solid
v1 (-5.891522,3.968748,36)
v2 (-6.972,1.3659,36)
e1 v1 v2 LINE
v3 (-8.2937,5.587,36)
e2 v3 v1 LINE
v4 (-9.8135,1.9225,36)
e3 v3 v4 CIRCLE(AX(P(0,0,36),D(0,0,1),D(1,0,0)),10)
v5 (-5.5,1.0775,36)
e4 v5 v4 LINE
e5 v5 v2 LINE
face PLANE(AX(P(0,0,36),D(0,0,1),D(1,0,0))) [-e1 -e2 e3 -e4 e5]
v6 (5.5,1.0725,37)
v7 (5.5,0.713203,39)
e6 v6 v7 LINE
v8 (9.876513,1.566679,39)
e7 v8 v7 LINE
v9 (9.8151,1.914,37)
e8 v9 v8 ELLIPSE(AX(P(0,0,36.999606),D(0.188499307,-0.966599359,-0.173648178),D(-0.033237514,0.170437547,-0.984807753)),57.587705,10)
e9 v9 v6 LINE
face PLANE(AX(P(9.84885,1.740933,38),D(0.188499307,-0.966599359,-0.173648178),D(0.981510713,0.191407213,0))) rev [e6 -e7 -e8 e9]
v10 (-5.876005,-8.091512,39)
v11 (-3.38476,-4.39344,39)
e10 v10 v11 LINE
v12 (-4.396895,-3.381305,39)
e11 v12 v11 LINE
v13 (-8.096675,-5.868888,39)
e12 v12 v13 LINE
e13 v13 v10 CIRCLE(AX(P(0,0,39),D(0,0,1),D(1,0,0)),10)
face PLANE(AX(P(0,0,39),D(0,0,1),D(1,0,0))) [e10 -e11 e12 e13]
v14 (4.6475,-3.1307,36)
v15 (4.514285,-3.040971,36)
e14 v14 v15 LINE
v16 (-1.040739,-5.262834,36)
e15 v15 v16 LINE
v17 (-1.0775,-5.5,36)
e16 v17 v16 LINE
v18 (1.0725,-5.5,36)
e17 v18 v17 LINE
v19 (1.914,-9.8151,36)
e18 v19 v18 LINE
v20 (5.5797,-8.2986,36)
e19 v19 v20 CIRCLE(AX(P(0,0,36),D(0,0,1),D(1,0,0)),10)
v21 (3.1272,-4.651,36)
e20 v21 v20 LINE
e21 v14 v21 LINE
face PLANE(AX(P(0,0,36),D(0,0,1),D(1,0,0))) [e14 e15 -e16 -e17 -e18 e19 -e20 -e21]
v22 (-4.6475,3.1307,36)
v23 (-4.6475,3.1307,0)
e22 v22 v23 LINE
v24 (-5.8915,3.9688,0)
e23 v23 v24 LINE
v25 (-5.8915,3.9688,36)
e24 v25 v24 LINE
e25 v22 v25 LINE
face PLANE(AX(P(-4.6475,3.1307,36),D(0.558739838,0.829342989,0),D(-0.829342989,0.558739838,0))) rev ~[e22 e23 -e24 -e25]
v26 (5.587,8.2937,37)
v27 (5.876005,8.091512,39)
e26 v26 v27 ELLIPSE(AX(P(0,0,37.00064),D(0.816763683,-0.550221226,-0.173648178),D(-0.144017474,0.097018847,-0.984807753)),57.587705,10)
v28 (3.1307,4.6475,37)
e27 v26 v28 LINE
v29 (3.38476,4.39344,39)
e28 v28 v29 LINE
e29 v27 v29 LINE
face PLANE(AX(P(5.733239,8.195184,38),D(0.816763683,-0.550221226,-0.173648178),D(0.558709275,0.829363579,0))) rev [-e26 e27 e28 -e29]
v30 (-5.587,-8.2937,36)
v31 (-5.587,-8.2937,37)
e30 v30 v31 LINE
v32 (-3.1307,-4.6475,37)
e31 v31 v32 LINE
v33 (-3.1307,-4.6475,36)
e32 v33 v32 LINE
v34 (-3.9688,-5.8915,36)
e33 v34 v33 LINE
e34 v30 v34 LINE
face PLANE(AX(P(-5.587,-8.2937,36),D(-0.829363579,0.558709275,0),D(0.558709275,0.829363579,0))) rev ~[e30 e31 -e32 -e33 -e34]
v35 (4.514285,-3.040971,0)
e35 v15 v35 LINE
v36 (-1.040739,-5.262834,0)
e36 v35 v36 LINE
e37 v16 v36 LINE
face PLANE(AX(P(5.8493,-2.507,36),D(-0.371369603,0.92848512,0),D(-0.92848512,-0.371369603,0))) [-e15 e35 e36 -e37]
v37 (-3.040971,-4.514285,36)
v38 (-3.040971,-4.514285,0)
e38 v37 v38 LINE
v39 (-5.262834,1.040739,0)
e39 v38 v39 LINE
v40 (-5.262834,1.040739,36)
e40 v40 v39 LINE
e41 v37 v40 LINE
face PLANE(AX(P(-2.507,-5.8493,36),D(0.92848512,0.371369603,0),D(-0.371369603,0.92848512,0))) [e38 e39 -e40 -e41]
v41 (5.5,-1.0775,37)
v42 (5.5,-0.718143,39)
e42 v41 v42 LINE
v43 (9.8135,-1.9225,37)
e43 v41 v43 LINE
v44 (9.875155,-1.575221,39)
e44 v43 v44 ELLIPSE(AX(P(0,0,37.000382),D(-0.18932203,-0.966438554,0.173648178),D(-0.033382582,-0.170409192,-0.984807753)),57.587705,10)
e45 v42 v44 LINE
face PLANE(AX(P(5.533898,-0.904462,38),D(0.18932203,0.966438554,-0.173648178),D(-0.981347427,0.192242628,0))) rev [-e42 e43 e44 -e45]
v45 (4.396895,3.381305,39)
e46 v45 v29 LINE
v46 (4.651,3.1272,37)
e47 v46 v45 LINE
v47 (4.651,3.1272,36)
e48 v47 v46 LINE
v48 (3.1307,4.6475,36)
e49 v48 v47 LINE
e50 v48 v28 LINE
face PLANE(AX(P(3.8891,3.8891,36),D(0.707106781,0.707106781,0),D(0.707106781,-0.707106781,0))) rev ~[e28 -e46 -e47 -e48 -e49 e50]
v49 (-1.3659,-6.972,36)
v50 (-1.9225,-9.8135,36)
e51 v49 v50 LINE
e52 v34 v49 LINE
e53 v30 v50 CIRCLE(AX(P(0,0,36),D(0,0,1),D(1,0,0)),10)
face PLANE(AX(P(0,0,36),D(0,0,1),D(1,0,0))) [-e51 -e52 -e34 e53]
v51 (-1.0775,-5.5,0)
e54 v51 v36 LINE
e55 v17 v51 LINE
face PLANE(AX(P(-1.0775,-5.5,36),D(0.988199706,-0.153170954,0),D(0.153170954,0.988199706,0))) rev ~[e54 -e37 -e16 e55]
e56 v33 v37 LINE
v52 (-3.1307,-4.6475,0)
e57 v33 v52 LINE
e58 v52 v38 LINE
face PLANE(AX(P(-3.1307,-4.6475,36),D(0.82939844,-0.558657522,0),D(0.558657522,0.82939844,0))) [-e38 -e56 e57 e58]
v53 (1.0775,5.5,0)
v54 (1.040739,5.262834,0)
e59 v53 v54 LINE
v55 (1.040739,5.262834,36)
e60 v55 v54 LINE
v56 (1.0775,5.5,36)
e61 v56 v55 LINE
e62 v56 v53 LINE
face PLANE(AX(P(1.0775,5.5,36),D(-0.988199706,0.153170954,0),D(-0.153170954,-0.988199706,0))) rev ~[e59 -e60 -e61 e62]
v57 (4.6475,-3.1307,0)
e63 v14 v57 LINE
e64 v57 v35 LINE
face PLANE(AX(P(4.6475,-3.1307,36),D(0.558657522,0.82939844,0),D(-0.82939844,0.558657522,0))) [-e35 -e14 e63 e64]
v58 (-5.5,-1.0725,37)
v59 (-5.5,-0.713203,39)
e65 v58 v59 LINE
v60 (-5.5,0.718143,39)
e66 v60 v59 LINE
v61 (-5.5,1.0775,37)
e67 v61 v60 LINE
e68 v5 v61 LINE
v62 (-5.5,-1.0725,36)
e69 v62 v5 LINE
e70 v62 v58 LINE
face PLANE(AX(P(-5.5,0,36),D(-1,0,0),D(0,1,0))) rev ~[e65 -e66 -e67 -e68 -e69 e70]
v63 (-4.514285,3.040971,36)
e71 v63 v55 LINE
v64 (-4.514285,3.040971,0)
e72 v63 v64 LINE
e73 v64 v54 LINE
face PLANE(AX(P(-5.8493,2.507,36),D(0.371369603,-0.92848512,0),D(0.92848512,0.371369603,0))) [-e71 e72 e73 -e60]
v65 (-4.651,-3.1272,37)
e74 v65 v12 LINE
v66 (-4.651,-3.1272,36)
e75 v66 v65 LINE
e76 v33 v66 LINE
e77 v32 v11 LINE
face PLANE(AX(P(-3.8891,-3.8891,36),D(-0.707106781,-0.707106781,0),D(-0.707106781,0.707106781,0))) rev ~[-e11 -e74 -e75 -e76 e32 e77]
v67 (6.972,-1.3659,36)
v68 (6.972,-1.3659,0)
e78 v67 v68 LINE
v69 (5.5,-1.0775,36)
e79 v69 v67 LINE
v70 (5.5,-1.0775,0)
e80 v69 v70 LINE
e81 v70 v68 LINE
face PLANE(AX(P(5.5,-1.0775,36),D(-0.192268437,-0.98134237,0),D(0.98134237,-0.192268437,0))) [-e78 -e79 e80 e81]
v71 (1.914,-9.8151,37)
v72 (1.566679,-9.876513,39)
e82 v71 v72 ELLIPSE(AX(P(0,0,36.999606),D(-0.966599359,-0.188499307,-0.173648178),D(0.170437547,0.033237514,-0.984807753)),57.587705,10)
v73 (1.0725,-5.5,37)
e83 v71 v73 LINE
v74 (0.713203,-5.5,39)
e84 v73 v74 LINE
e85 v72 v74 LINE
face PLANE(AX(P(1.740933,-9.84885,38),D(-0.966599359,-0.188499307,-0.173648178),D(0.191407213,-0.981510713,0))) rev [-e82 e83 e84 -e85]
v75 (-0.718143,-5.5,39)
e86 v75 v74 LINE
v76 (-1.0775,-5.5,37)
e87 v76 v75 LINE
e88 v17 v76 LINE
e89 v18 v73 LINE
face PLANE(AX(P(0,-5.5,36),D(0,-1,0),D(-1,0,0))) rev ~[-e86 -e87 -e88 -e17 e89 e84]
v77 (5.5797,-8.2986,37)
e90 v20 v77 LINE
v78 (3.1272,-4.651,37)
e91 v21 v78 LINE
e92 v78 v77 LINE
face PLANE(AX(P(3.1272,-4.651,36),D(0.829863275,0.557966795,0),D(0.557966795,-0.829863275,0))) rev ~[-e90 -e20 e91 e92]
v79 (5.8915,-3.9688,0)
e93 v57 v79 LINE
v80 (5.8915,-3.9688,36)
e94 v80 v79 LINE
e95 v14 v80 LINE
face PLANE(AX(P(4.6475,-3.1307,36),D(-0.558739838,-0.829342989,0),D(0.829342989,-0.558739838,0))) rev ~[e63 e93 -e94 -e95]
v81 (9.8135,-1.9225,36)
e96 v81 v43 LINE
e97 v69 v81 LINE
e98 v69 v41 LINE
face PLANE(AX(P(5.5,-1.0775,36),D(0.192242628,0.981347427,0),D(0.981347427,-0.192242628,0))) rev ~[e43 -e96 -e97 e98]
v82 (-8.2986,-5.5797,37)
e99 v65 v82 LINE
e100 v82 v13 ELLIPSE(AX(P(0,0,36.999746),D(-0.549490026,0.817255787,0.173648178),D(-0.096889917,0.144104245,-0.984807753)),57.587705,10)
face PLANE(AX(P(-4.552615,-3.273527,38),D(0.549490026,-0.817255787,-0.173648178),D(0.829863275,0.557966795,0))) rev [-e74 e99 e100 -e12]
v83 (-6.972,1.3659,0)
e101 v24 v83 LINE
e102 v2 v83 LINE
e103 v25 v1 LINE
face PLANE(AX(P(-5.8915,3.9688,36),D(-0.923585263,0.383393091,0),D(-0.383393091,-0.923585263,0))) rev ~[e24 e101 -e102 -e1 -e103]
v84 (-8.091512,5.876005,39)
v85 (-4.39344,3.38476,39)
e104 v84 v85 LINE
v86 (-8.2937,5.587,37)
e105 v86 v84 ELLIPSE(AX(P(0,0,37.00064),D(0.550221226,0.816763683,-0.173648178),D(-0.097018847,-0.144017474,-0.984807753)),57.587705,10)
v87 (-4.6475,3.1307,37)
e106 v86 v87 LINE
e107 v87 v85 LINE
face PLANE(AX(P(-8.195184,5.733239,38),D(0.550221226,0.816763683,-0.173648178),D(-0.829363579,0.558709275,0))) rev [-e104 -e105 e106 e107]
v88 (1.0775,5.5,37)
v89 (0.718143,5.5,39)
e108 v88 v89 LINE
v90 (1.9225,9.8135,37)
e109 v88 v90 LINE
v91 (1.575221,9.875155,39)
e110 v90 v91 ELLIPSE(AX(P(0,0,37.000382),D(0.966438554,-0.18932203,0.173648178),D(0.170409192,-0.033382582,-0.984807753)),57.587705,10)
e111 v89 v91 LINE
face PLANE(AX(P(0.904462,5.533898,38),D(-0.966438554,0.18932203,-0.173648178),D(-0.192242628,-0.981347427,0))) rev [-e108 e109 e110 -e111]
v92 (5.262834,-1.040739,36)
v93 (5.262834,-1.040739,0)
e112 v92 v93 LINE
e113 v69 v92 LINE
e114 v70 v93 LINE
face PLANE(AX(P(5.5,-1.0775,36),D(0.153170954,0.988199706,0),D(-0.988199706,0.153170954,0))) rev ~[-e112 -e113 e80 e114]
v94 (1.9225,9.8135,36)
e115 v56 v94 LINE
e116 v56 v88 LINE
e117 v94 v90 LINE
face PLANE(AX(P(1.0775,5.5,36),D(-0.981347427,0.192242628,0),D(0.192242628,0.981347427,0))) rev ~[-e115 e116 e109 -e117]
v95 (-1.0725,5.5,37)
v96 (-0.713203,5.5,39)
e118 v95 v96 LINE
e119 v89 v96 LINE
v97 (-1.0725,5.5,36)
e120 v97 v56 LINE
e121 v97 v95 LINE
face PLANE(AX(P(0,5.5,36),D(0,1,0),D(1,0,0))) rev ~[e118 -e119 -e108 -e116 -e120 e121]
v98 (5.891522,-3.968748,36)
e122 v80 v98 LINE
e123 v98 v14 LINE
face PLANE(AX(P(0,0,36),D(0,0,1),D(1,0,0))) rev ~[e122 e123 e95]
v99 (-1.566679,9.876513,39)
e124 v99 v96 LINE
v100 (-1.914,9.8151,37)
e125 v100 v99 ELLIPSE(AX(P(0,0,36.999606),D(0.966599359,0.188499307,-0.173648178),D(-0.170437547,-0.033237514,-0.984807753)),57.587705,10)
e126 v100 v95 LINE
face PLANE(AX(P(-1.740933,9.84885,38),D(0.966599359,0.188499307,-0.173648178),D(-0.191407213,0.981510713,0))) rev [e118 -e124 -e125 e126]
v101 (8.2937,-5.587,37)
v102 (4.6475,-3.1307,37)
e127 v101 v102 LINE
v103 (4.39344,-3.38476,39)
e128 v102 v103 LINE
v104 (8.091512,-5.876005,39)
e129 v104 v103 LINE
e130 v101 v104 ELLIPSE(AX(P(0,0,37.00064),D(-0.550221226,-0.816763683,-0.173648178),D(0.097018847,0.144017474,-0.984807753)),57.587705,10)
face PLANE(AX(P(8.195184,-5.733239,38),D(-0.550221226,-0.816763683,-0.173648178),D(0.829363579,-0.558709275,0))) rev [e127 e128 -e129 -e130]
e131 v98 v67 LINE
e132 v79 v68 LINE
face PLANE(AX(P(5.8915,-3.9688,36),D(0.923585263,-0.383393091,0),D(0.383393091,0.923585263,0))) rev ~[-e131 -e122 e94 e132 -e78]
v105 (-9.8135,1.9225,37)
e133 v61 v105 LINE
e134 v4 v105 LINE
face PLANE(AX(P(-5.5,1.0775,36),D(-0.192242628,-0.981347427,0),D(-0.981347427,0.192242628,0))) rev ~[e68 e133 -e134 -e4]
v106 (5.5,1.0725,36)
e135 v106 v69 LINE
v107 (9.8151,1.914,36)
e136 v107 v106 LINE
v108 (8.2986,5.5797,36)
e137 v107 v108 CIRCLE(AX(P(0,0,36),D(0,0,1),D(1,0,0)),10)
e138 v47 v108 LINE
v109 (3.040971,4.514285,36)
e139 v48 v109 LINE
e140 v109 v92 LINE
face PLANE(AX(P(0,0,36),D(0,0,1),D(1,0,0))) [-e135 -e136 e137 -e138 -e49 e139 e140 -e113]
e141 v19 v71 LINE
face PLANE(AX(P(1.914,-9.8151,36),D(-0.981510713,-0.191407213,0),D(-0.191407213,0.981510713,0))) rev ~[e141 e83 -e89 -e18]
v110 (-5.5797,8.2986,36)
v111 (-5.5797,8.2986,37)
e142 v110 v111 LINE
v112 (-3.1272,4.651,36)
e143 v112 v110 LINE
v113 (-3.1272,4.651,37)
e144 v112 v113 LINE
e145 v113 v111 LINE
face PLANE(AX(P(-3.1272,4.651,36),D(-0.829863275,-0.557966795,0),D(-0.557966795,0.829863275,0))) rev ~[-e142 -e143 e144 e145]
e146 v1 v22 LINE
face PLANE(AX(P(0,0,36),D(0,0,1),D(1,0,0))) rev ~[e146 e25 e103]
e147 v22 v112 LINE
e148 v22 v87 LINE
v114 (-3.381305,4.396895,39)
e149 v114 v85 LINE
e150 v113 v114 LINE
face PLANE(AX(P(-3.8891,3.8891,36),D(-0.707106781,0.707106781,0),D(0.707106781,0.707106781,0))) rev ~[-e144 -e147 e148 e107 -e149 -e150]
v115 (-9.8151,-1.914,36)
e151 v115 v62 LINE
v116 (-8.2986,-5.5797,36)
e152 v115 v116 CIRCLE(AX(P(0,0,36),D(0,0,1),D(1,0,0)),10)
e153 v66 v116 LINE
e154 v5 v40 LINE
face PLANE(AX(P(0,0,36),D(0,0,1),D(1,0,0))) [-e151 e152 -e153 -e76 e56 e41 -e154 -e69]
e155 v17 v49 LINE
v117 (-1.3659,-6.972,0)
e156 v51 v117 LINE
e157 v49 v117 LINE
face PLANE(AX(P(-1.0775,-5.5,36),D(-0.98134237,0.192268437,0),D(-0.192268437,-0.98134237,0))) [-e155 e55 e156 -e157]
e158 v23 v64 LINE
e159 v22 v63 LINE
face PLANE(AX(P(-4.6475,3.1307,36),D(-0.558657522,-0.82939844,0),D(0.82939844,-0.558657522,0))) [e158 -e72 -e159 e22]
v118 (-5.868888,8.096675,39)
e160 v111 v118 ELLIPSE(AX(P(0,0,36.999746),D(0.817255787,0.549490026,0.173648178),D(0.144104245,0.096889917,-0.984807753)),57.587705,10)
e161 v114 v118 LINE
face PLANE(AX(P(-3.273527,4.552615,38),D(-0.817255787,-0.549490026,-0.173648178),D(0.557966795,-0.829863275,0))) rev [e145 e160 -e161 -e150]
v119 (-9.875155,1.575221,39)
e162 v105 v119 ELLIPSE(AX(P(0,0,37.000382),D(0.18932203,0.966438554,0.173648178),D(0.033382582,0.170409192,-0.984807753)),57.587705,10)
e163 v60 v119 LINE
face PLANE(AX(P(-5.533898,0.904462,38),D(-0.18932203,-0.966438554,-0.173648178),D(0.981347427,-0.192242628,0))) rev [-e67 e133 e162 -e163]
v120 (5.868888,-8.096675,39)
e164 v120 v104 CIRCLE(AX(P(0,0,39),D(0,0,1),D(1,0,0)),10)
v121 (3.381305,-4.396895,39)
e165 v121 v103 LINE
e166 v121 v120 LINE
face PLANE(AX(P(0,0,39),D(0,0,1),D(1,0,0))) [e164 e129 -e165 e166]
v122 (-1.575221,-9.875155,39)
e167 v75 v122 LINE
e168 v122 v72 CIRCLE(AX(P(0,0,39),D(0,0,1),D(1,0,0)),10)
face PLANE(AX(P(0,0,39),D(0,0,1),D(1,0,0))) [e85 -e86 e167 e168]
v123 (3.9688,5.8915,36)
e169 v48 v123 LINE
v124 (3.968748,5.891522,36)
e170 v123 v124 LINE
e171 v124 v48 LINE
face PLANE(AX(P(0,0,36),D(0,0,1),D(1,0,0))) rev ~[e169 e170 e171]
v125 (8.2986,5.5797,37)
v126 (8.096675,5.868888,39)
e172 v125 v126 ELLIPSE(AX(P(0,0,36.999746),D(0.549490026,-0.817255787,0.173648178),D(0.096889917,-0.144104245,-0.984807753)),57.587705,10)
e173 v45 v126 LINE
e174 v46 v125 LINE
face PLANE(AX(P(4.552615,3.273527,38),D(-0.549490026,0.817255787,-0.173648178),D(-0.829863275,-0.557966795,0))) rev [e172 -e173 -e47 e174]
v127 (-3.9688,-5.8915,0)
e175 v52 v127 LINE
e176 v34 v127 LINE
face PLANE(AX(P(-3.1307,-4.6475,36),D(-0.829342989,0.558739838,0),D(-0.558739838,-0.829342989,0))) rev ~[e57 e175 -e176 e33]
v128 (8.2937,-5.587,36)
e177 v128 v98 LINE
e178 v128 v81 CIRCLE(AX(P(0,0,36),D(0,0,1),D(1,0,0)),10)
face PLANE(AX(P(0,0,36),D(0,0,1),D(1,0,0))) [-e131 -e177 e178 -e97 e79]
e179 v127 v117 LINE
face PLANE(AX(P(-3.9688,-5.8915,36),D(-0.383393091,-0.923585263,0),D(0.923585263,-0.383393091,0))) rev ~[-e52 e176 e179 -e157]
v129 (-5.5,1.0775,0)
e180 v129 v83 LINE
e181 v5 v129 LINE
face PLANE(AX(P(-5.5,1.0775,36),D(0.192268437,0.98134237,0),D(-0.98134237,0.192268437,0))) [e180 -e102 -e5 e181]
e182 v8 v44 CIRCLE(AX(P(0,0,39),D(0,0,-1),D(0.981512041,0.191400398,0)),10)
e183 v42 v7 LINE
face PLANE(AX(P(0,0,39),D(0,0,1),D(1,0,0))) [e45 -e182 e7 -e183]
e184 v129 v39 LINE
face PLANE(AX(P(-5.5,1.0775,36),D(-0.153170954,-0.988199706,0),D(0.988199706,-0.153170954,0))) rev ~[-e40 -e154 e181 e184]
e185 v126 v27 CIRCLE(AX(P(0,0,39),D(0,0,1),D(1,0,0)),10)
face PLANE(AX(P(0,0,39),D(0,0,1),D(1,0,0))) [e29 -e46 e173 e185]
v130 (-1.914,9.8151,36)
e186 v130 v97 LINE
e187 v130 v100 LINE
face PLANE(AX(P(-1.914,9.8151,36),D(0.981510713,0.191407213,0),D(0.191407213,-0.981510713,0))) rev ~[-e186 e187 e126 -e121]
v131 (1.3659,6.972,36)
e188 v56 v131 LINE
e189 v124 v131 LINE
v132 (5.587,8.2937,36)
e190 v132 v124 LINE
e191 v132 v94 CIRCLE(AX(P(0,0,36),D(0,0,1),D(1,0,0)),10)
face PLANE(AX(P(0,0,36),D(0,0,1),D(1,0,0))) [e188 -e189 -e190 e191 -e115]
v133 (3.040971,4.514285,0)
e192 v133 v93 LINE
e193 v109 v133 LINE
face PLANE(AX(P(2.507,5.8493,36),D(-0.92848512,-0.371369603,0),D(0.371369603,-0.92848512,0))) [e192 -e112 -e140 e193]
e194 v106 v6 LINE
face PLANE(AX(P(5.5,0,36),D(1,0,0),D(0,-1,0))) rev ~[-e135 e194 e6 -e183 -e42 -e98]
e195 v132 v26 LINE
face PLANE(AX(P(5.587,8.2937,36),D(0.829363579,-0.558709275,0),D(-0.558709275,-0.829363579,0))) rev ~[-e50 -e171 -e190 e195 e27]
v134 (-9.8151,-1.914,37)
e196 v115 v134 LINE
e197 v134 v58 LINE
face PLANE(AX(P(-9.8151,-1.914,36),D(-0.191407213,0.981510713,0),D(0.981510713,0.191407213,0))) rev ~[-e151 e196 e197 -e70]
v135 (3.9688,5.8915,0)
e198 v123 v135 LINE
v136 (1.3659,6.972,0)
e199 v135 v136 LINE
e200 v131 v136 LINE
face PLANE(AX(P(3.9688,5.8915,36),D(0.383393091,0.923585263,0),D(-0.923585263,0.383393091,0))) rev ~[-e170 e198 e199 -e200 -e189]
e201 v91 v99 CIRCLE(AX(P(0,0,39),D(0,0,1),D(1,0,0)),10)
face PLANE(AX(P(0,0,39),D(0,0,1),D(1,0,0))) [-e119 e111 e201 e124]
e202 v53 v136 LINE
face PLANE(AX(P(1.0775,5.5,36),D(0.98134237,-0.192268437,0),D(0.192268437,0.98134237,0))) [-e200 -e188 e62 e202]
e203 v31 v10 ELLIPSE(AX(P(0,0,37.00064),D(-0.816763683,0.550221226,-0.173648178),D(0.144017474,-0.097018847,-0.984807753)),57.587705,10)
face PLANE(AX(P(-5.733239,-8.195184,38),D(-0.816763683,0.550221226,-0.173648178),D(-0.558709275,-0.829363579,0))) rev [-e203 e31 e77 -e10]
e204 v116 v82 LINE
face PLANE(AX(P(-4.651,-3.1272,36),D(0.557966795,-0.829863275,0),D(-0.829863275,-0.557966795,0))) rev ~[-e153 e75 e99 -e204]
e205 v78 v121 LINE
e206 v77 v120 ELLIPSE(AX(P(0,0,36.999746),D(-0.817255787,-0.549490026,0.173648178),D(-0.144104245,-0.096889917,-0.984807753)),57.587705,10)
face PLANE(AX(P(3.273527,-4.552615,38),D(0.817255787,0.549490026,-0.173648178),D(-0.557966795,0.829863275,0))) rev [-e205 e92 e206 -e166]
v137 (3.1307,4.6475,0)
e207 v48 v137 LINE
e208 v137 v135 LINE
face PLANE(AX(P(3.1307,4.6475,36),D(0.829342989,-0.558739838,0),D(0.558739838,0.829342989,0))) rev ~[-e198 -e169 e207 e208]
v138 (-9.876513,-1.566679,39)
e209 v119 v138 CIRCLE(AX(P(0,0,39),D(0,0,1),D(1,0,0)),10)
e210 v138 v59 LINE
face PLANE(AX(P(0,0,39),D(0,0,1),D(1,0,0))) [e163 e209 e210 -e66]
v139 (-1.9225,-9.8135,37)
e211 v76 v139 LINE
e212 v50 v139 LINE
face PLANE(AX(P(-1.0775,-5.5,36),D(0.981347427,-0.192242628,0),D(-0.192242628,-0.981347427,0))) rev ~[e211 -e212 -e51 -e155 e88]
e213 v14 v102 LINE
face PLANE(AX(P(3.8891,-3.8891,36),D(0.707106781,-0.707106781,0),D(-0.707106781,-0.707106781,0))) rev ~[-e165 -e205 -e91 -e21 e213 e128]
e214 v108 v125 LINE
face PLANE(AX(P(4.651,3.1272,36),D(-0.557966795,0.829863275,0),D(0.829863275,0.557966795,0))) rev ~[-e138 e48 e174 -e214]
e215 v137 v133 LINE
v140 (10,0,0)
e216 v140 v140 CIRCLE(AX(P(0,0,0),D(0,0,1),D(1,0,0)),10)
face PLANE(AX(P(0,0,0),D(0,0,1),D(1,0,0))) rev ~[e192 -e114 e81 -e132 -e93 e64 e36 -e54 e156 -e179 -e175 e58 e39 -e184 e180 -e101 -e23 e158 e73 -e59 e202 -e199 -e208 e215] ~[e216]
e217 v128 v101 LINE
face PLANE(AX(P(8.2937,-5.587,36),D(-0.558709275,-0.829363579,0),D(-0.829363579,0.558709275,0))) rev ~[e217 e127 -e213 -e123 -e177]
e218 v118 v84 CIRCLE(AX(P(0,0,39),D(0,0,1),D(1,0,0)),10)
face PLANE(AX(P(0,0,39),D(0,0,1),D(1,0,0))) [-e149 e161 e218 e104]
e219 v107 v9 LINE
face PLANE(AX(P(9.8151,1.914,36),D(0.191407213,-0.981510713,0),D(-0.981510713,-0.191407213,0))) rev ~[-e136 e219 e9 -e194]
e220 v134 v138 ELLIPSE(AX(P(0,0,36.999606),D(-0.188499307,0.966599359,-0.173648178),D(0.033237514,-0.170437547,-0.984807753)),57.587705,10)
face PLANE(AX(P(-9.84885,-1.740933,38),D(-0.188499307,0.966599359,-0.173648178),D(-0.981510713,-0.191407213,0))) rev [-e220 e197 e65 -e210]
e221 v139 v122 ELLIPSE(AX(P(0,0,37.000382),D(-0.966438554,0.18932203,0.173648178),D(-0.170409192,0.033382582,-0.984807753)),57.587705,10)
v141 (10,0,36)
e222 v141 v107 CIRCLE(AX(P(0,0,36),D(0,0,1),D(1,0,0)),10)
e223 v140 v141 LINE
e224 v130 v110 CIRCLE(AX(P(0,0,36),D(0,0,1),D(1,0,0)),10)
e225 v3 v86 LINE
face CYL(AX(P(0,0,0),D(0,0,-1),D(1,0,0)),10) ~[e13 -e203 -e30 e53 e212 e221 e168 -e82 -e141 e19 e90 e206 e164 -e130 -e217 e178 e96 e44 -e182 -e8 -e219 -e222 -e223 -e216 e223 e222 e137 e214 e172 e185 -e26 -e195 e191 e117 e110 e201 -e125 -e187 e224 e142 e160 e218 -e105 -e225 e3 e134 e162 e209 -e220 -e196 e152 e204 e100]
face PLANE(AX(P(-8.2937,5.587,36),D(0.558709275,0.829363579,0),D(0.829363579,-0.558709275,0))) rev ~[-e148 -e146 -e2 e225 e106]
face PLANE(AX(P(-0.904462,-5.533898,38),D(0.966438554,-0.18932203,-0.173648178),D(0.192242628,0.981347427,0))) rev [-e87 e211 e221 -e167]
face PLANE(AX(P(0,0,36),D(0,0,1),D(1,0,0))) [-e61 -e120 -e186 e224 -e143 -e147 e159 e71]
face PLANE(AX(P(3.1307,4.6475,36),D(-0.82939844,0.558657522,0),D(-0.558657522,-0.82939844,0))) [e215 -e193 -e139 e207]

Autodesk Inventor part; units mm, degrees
ref_plane "YZ Plane" through (0, 0, 0) normal (1, 0, 0) x (0, 1, 0)
ref_plane "XZ Plane" through (0, 0, 0) normal (0, 1, 0) x (-1, 0, 0)
ref_plane "XY Plane" through (0, 0, 0) normal (0, 0, 1) x (1, 0, 0)
sketch "Эскиз1" plane through (0, 0, 0) normal (0, 0, 1) x (1, 0, 0)
  circle A0 centre (0, 0) radius 10
  line L0 (-3.8095, 3.8095) -> (3.8095, 3.8095)
  line L1 (3.8095, 3.8095) -> (3.8095, -3.8095)
  line L2 (3.8095, -3.8095) -> (-3.8095, -3.8095)
  line L3 (-3.8095, -3.8095) -> (-3.8095, 3.8095)
  line L4 (-3.8095, 3.8095) -> (3.8095, -3.8095) construction
  line L5 (3.8095, 3.8095) -> (-3.8095, -3.8095) construction
  dimension "d0" = 20
extrude "Выдавливание1" add sketch "Эскиз1" along normal blind 36
sketch "Эскиз2" plane through (0, 0, 36) normal (0, 0, 1) x (1, 0, 0)
  line L0 (-3.8095, 3.8095) -> (3.8095, 3.8095) projected
  circle A0 centre (0, 0) radius 10 projected
  line L1 (9.8151, 1.914) -> (5.5, 1.0725)
  line L2 (5.5, -1.0775) -> (9.8135, -1.9225)
  line L3 (5.5, 0) -> (5.5, 1.0725)
  line L4 (5.5, 1.0725) -> (5.5, -1.0775)
  line L5 (5.587, 8.2937) -> (3.1307, 4.6475)
  line L6 (4.651, 3.1272) -> (8.2986, 5.5797)
  line L7 (3.8891, 3.8891) -> (3.1307, 4.6475)
  line L8 (3.1307, 4.6475) -> (4.651, 3.1272)
  line L9 (-1.914, 9.8151) -> (-1.0725, 5.5)
  line L10 (1.0775, 5.5) -> (1.9225, 9.8135)
  line L11 (0, 5.5) -> (-1.0725, 5.5)
  line L12 (-1.0725, 5.5) -> (1.0775, 5.5)
  line L13 (-8.2937, 5.587) -> (-4.6475, 3.1307)
  line L14 (-3.1272, 4.651) -> (-5.5797, 8.2986)
  line L15 (-3.8891, 3.8891) -> (-4.6475, 3.1307)
  line L16 (-4.6475, 3.1307) -> (-3.1272, 4.651)
  line L17 (-9.8151, -1.914) -> (-5.5, -1.0725)
  line L18 (-5.5, 1.0775) -> (-9.8135, 1.9225)
  line L19 (-5.5, 0) -> (-5.5, -1.0725)
  line L20 (-5.5, -1.0725) -> (-5.5, 1.0775)
  line L21 (-5.587, -8.2937) -> (-3.1307, -4.6475)
  line L22 (-4.651, -3.1272) -> (-8.2986, -5.5797)
  line L23 (-3.8891, -3.8891) -> (-3.1307, -4.6475)
  line L24 (-3.1307, -4.6475) -> (-4.651, -3.1272)
  line L25 (1.914, -9.8151) -> (1.0725, -5.5)
  line L26 (-1.0775, -5.5) -> (-1.9225, -9.8135)
  line L27 (0, -5.5) -> (1.0725, -5.5)
  line L28 (1.0725, -5.5) -> (-1.0775, -5.5)
  line L29 (8.2937, -5.587) -> (4.6475, -3.1307)
  line L30 (3.1272, -4.651) -> (5.5797, -8.2986)
  line L31 (3.8891, -3.8891) -> (4.6475, -3.1307)
  line L32 (4.6475, -3.1307) -> (3.1272, -4.651)
  dimension "d36" = 360
extrude "Выдавливание2" add sketch "Эскиз2" along normal blind 3 contours A0 L2 L4 L3 L1 | L6 L8 L7 L5 A0 | A0 L30 L32 L31 L29 | L10 L12 L11 L9 A0 | A0 L26 L28 L27 L25 | L14 L16 L15 L13 A0 | A0 L22 L24 L23 L21 | L18 L20 L19 L17 A0
chamfer "Фаска1" distance 2 angle 10 1 edges at (4.3588, 6.4706, 39) measured on face at (4.7682, 7.0783, 37)
chamfer "Фаска2" distance 2 angle 10 1 edges at (6.4748, 4.3535, 39) measured on face at (5.8669, 3.9447, 37)
chamfer "Фаска3" distance 2 angle 10 1 edges at (7.6576, 1.4932, 39) measured on face at (8.3768, 1.6335, 37)
chamfer "Фаска4" distance 2 angle 10 1 edges at (7.6567, -1.5, 39) measured on face at (6.9378, -1.3592, 37)
chamfer "Фаска5" distance 2 angle 10 1 edges at (6.4706, -4.3588, 39) measured on face at (7.0783, -4.7682, 37)
chamfer "Фаска6" distance 2 angle 10 1 edges at (4.3535, -6.4748, 39) measured on face at (3.9447, -5.8669, 37)
chamfer "Фаска7" distance 2 angle 10 1 edges at (-1.5, -7.6567, 39) measured on face at (-1.3592, -6.9378, 37)
chamfer "Фаска8" distance 2 angle 10 1 edges at (1.4932, -7.6576, 39) measured on face at (1.6335, -8.3768, 37)
chamfer "Фаска9" distance 2 angle 10 1 edges at (-6.4748, -4.3535, 39) measured on face at (-5.8669, -3.9447, 37)
chamfer "Фаска10" distance 2 angle 10 1 edges at (-4.3588, -6.4706, 39) measured on face at (-4.7682, -7.0783, 37)
chamfer "Фаска11" distance 2 angle 10 1 edges at (-7.6567, 1.5, 39) measured on face at (-6.9378, 1.3592, 37)
chamfer "Фаска12" distance 2 angle 10 1 edges at (-7.6576, -1.4932, 39) measured on face at (-8.3768, -1.6335, 37)
chamfer "Фаска13" distance 2 angle 10 1 edges at (-4.3535, 6.4748, 39) measured on face at (-3.9447, 5.8669, 37)
chamfer "Фаска14" distance 2 angle 10 1 edges at (-6.4706, 4.3588, 39) measured on face at (-7.0783, 4.7682, 37)
chamfer "Фаска15" distance 2 angle 10 1 edges at (1.5, 7.6567, 39) measured on face at (1.3592, 6.9378, 37)
chamfer "Фаска16" distance 2 angle 10 1 edges at (-1.4932, 7.6576, 39) measured on face at (-1.6335, 8.3768, 37)
sketch "Эскиз3" plane through (0, 0, 36) normal (0, 0, 1) x (1, 0, 0)
  point P0 (0, 0)
sketch "Эскиз5" plane through (0, 0, 36) normal (0, 0, 1) x (1, 0, 0)
  point P0 (0, 0)
sketch "Эскиз6" plane through (0, 0, 36) normal (0, 0, 1) x (1, 0, 0)
  line L0 (-1.0725, 5.5) -> (-1.914, 9.8151) projected
  arc A0 (-1.914, 9.8151) -> (-5.5797, 8.2986) centre (0, 0) ccw projected
  line L1 (-5.5797, 8.2986) -> (-3.1272, 4.651) projected
  line L2 (-3.1272, 4.651) -> (-4.6475, 3.1307) projected
  line L3 (-4.6475, 3.1307) -> (-8.2937, 5.587) projected
  arc A1 (-8.2937, 5.587) -> (-9.8135, 1.9225) centre (0, 0) ccw projected
  line L4 (-9.8135, 1.9225) -> (-5.5, 1.0775) projected
  line L5 (-5.5, 1.0775) -> (-5.5, -1.0725) projected
  line L6 (-5.5, -1.0725) -> (-9.8151, -1.914) projected
  arc A2 (-9.8151, -1.914) -> (-8.2986, -5.5797) centre (0, 0) ccw projected
  line L7 (-8.2986, -5.5797) -> (-4.651, -3.1272) projected
  line L8 (-4.651, -3.1272) -> (-3.1307, -4.6475) projected
  line L9 (-3.1307, -4.6475) -> (-5.587, -8.2937) projected
  arc A3 (-5.587, -8.2937) -> (-1.9225, -9.8135) centre (0, 0) ccw projected
  line L10 (-1.9225, -9.8135) -> (-1.0775, -5.5) projected
  line L11 (-1.0775, -5.5) -> (1.0725, -5.5) projected
  line L12 (1.0725, -5.5) -> (1.914, -9.8151) projected
  arc A4 (1.914, -9.8151) -> (5.5797, -8.2986) centre (0, 0) ccw projected
  line L13 (5.5797, -8.2986) -> (3.1272, -4.651) projected
  line L14 (3.1272, -4.651) -> (4.6475, -3.1307) projected
  line L15 (4.6475, -3.1307) -> (8.2937, -5.587) projected
  arc A5 (8.2937, -5.587) -> (9.8135, -1.9225) centre (0, 0) ccw projected
  line L16 (9.8135, -1.9225) -> (5.5, -1.0775) projected
  line L17 (5.5, -1.0775) -> (5.5, 1.0725) projected
  line L18 (5.5, 1.0725) -> (9.8151, 1.914) projected
  arc A6 (9.8151, 1.914) -> (8.2986, 5.5797) centre (0, 0) ccw projected
  line L19 (8.2986, 5.5797) -> (4.651, 3.1272) projected
  line L20 (4.651, 3.1272) -> (3.1307, 4.6475) projected
  line L21 (3.1307, 4.6475) -> (5.587, 8.2937) projected
  arc A7 (5.587, 8.2937) -> (1.9225, 9.8135) centre (0, 0) ccw projected
  line L22 (1.9225, 9.8135) -> (1.0775, 5.5) projected
  line L23 (1.0775, 5.5) -> (-1.0725, 5.5) projected
  line L24 (-3.8095, 3.8095) -> (3.8095, 3.8095) projected
  line L25 (3.8095, 3.8095) -> (3.8095, -3.8095) projected
  line L26 (3.8095, -3.8095) -> (-3.8095, -3.8095) projected
  line L27 (-3.8095, -3.8095) -> (-3.8095, 3.8095) projected
extrude "Выдавливание4" add sketch "Эскиз6" against normal up to surface (36 mm away) contours L24 L25 L26 L27
sketch "Эскиз7" plane through (0, 0, 36) normal (0, 0, 1) x (1, 0, 0)
  line L0 (-5.8493, 2.507) -> (2.507, 5.8493)
  line L1 (2.507, 5.8493) -> (5.8493, -2.507)
  line L2 (5.8493, -2.507) -> (-2.507, -5.8493)
  line L3 (-2.507, -5.8493) -> (-5.8493, 2.507)
  line L4 (-5.8493, 2.507) -> (5.8493, -2.507) construction
  line L5 (2.507, 5.8493) -> (-2.507, -5.8493) construction
  point P0 (0, 0)
  dimension "d95" = 9
  dimension "d96" = 9
extrude "Выдавливание5" cut sketch "Эскиз7" against normal through all
sketch "Эскиз8" plane through (0, 0, 36) normal (0, 0, 1) x (1, 0, 0)
  line L0 (-4.651, -3.1272) -> (-3.1307, -4.6475) projected
  line L1 (-1.0775, -5.5) -> (1.0725, -5.5) projected
  line L2 (-3.1307, -4.6475) -> (-1.0775, -5.5)
  line L3 (-1.0775, -5.5) -> (-1.3659, -6.972)
  line L4 (-1.9225, -9.8135) -> (-1.0775, -5.5) projected
  line L5 (-3.1307, -4.6475) -> (-3.9688, -5.8915)
  line L6 (-3.1307, -4.6475) -> (-5.587, -8.2937) projected
  line L7 (-3.9688, -5.8915) -> (-1.3659, -6.972)
  line L8 (4.6475, -3.1307) -> (5.8915, -3.9688)
  line L9 (5.5, -1.0775) -> (6.972, -1.3659)
  line L10 (4.6475, -3.1307) -> (5.5, -1.0775)
  line L11 (5.8915, -3.9688) -> (6.972, -1.3659)
  line L12 (3.1307, 4.6475) -> (3.9688, 5.8915)
  line L13 (1.0775, 5.5) -> (1.3659, 6.972)
  line L14 (3.1307, 4.6475) -> (1.0775, 5.5)
  line L15 (3.9688, 5.8915) -> (1.3659, 6.972)
  line L16 (-4.6475, 3.1307) -> (-5.8915, 3.9688)
  line L17 (-5.5, 1.0775) -> (-6.972, 1.3659)
  line L18 (-4.6475, 3.1307) -> (-5.5, 1.0775)
  line L19 (-5.8915, 3.9688) -> (-6.972, 1.3659)
  point P0 (0, 0)
  dimension "d99" = 1.5
  dimension "d100" = 1.5
  dimension "d103" = 360
extrude "Выдавливание6" cut sketch "Эскиз8" against normal through all
sketch "Эскиз9" plane through (0, 0, 36) normal (0, 0, 1) x (1, 0, 0)
  line L0 (-1.3659, -6.972) -> (-1.0775, -5.5) projected
  line L1 (-1.0775, -5.5) -> (-1, -5)
  line L2 (-3.1307, -4.6475) -> (-3.9688, -5.8915) projected
  line L3 (-3.1307, -4.6475) -> (-2.4444, -3.6286)
  line L4 (-2.4444, -3.6286) -> (-1, -5)
  line L5 (-3.1307, -4.6475) -> (-1.0775, -5.5)
  line L6 (5.5, -1.0775) -> (5, -1)
  line L7 (4.6475, -3.1307) -> (3.6286, -2.4444)
  line L8 (3.6286, -2.4444) -> (5, -1)
  line L9 (4.6475, -3.1307) -> (5.5, -1.0775)
  line L10 (1.0775, 5.5) -> (1, 5)
  line L11 (3.1307, 4.6475) -> (2.4444, 3.6286)
  line L12 (2.4444, 3.6286) -> (1, 5)
  line L13 (3.1307, 4.6475) -> (1.0775, 5.5)
  line L14 (-5.5, 1.0775) -> (-5, 1)
  line L15 (-4.6475, 3.1307) -> (-3.6286, 2.4444)
  line L16 (-3.6286, 2.4444) -> (-5, 1)
  line L17 (-4.6475, 3.1307) -> (-5.5, 1.0775)
  point P0 (0, 0)
  dimension "d109" = 360
extrude "Выдавливание7" cut sketch "Эскиз9" against normal through all
properties part number "деталь вв"
